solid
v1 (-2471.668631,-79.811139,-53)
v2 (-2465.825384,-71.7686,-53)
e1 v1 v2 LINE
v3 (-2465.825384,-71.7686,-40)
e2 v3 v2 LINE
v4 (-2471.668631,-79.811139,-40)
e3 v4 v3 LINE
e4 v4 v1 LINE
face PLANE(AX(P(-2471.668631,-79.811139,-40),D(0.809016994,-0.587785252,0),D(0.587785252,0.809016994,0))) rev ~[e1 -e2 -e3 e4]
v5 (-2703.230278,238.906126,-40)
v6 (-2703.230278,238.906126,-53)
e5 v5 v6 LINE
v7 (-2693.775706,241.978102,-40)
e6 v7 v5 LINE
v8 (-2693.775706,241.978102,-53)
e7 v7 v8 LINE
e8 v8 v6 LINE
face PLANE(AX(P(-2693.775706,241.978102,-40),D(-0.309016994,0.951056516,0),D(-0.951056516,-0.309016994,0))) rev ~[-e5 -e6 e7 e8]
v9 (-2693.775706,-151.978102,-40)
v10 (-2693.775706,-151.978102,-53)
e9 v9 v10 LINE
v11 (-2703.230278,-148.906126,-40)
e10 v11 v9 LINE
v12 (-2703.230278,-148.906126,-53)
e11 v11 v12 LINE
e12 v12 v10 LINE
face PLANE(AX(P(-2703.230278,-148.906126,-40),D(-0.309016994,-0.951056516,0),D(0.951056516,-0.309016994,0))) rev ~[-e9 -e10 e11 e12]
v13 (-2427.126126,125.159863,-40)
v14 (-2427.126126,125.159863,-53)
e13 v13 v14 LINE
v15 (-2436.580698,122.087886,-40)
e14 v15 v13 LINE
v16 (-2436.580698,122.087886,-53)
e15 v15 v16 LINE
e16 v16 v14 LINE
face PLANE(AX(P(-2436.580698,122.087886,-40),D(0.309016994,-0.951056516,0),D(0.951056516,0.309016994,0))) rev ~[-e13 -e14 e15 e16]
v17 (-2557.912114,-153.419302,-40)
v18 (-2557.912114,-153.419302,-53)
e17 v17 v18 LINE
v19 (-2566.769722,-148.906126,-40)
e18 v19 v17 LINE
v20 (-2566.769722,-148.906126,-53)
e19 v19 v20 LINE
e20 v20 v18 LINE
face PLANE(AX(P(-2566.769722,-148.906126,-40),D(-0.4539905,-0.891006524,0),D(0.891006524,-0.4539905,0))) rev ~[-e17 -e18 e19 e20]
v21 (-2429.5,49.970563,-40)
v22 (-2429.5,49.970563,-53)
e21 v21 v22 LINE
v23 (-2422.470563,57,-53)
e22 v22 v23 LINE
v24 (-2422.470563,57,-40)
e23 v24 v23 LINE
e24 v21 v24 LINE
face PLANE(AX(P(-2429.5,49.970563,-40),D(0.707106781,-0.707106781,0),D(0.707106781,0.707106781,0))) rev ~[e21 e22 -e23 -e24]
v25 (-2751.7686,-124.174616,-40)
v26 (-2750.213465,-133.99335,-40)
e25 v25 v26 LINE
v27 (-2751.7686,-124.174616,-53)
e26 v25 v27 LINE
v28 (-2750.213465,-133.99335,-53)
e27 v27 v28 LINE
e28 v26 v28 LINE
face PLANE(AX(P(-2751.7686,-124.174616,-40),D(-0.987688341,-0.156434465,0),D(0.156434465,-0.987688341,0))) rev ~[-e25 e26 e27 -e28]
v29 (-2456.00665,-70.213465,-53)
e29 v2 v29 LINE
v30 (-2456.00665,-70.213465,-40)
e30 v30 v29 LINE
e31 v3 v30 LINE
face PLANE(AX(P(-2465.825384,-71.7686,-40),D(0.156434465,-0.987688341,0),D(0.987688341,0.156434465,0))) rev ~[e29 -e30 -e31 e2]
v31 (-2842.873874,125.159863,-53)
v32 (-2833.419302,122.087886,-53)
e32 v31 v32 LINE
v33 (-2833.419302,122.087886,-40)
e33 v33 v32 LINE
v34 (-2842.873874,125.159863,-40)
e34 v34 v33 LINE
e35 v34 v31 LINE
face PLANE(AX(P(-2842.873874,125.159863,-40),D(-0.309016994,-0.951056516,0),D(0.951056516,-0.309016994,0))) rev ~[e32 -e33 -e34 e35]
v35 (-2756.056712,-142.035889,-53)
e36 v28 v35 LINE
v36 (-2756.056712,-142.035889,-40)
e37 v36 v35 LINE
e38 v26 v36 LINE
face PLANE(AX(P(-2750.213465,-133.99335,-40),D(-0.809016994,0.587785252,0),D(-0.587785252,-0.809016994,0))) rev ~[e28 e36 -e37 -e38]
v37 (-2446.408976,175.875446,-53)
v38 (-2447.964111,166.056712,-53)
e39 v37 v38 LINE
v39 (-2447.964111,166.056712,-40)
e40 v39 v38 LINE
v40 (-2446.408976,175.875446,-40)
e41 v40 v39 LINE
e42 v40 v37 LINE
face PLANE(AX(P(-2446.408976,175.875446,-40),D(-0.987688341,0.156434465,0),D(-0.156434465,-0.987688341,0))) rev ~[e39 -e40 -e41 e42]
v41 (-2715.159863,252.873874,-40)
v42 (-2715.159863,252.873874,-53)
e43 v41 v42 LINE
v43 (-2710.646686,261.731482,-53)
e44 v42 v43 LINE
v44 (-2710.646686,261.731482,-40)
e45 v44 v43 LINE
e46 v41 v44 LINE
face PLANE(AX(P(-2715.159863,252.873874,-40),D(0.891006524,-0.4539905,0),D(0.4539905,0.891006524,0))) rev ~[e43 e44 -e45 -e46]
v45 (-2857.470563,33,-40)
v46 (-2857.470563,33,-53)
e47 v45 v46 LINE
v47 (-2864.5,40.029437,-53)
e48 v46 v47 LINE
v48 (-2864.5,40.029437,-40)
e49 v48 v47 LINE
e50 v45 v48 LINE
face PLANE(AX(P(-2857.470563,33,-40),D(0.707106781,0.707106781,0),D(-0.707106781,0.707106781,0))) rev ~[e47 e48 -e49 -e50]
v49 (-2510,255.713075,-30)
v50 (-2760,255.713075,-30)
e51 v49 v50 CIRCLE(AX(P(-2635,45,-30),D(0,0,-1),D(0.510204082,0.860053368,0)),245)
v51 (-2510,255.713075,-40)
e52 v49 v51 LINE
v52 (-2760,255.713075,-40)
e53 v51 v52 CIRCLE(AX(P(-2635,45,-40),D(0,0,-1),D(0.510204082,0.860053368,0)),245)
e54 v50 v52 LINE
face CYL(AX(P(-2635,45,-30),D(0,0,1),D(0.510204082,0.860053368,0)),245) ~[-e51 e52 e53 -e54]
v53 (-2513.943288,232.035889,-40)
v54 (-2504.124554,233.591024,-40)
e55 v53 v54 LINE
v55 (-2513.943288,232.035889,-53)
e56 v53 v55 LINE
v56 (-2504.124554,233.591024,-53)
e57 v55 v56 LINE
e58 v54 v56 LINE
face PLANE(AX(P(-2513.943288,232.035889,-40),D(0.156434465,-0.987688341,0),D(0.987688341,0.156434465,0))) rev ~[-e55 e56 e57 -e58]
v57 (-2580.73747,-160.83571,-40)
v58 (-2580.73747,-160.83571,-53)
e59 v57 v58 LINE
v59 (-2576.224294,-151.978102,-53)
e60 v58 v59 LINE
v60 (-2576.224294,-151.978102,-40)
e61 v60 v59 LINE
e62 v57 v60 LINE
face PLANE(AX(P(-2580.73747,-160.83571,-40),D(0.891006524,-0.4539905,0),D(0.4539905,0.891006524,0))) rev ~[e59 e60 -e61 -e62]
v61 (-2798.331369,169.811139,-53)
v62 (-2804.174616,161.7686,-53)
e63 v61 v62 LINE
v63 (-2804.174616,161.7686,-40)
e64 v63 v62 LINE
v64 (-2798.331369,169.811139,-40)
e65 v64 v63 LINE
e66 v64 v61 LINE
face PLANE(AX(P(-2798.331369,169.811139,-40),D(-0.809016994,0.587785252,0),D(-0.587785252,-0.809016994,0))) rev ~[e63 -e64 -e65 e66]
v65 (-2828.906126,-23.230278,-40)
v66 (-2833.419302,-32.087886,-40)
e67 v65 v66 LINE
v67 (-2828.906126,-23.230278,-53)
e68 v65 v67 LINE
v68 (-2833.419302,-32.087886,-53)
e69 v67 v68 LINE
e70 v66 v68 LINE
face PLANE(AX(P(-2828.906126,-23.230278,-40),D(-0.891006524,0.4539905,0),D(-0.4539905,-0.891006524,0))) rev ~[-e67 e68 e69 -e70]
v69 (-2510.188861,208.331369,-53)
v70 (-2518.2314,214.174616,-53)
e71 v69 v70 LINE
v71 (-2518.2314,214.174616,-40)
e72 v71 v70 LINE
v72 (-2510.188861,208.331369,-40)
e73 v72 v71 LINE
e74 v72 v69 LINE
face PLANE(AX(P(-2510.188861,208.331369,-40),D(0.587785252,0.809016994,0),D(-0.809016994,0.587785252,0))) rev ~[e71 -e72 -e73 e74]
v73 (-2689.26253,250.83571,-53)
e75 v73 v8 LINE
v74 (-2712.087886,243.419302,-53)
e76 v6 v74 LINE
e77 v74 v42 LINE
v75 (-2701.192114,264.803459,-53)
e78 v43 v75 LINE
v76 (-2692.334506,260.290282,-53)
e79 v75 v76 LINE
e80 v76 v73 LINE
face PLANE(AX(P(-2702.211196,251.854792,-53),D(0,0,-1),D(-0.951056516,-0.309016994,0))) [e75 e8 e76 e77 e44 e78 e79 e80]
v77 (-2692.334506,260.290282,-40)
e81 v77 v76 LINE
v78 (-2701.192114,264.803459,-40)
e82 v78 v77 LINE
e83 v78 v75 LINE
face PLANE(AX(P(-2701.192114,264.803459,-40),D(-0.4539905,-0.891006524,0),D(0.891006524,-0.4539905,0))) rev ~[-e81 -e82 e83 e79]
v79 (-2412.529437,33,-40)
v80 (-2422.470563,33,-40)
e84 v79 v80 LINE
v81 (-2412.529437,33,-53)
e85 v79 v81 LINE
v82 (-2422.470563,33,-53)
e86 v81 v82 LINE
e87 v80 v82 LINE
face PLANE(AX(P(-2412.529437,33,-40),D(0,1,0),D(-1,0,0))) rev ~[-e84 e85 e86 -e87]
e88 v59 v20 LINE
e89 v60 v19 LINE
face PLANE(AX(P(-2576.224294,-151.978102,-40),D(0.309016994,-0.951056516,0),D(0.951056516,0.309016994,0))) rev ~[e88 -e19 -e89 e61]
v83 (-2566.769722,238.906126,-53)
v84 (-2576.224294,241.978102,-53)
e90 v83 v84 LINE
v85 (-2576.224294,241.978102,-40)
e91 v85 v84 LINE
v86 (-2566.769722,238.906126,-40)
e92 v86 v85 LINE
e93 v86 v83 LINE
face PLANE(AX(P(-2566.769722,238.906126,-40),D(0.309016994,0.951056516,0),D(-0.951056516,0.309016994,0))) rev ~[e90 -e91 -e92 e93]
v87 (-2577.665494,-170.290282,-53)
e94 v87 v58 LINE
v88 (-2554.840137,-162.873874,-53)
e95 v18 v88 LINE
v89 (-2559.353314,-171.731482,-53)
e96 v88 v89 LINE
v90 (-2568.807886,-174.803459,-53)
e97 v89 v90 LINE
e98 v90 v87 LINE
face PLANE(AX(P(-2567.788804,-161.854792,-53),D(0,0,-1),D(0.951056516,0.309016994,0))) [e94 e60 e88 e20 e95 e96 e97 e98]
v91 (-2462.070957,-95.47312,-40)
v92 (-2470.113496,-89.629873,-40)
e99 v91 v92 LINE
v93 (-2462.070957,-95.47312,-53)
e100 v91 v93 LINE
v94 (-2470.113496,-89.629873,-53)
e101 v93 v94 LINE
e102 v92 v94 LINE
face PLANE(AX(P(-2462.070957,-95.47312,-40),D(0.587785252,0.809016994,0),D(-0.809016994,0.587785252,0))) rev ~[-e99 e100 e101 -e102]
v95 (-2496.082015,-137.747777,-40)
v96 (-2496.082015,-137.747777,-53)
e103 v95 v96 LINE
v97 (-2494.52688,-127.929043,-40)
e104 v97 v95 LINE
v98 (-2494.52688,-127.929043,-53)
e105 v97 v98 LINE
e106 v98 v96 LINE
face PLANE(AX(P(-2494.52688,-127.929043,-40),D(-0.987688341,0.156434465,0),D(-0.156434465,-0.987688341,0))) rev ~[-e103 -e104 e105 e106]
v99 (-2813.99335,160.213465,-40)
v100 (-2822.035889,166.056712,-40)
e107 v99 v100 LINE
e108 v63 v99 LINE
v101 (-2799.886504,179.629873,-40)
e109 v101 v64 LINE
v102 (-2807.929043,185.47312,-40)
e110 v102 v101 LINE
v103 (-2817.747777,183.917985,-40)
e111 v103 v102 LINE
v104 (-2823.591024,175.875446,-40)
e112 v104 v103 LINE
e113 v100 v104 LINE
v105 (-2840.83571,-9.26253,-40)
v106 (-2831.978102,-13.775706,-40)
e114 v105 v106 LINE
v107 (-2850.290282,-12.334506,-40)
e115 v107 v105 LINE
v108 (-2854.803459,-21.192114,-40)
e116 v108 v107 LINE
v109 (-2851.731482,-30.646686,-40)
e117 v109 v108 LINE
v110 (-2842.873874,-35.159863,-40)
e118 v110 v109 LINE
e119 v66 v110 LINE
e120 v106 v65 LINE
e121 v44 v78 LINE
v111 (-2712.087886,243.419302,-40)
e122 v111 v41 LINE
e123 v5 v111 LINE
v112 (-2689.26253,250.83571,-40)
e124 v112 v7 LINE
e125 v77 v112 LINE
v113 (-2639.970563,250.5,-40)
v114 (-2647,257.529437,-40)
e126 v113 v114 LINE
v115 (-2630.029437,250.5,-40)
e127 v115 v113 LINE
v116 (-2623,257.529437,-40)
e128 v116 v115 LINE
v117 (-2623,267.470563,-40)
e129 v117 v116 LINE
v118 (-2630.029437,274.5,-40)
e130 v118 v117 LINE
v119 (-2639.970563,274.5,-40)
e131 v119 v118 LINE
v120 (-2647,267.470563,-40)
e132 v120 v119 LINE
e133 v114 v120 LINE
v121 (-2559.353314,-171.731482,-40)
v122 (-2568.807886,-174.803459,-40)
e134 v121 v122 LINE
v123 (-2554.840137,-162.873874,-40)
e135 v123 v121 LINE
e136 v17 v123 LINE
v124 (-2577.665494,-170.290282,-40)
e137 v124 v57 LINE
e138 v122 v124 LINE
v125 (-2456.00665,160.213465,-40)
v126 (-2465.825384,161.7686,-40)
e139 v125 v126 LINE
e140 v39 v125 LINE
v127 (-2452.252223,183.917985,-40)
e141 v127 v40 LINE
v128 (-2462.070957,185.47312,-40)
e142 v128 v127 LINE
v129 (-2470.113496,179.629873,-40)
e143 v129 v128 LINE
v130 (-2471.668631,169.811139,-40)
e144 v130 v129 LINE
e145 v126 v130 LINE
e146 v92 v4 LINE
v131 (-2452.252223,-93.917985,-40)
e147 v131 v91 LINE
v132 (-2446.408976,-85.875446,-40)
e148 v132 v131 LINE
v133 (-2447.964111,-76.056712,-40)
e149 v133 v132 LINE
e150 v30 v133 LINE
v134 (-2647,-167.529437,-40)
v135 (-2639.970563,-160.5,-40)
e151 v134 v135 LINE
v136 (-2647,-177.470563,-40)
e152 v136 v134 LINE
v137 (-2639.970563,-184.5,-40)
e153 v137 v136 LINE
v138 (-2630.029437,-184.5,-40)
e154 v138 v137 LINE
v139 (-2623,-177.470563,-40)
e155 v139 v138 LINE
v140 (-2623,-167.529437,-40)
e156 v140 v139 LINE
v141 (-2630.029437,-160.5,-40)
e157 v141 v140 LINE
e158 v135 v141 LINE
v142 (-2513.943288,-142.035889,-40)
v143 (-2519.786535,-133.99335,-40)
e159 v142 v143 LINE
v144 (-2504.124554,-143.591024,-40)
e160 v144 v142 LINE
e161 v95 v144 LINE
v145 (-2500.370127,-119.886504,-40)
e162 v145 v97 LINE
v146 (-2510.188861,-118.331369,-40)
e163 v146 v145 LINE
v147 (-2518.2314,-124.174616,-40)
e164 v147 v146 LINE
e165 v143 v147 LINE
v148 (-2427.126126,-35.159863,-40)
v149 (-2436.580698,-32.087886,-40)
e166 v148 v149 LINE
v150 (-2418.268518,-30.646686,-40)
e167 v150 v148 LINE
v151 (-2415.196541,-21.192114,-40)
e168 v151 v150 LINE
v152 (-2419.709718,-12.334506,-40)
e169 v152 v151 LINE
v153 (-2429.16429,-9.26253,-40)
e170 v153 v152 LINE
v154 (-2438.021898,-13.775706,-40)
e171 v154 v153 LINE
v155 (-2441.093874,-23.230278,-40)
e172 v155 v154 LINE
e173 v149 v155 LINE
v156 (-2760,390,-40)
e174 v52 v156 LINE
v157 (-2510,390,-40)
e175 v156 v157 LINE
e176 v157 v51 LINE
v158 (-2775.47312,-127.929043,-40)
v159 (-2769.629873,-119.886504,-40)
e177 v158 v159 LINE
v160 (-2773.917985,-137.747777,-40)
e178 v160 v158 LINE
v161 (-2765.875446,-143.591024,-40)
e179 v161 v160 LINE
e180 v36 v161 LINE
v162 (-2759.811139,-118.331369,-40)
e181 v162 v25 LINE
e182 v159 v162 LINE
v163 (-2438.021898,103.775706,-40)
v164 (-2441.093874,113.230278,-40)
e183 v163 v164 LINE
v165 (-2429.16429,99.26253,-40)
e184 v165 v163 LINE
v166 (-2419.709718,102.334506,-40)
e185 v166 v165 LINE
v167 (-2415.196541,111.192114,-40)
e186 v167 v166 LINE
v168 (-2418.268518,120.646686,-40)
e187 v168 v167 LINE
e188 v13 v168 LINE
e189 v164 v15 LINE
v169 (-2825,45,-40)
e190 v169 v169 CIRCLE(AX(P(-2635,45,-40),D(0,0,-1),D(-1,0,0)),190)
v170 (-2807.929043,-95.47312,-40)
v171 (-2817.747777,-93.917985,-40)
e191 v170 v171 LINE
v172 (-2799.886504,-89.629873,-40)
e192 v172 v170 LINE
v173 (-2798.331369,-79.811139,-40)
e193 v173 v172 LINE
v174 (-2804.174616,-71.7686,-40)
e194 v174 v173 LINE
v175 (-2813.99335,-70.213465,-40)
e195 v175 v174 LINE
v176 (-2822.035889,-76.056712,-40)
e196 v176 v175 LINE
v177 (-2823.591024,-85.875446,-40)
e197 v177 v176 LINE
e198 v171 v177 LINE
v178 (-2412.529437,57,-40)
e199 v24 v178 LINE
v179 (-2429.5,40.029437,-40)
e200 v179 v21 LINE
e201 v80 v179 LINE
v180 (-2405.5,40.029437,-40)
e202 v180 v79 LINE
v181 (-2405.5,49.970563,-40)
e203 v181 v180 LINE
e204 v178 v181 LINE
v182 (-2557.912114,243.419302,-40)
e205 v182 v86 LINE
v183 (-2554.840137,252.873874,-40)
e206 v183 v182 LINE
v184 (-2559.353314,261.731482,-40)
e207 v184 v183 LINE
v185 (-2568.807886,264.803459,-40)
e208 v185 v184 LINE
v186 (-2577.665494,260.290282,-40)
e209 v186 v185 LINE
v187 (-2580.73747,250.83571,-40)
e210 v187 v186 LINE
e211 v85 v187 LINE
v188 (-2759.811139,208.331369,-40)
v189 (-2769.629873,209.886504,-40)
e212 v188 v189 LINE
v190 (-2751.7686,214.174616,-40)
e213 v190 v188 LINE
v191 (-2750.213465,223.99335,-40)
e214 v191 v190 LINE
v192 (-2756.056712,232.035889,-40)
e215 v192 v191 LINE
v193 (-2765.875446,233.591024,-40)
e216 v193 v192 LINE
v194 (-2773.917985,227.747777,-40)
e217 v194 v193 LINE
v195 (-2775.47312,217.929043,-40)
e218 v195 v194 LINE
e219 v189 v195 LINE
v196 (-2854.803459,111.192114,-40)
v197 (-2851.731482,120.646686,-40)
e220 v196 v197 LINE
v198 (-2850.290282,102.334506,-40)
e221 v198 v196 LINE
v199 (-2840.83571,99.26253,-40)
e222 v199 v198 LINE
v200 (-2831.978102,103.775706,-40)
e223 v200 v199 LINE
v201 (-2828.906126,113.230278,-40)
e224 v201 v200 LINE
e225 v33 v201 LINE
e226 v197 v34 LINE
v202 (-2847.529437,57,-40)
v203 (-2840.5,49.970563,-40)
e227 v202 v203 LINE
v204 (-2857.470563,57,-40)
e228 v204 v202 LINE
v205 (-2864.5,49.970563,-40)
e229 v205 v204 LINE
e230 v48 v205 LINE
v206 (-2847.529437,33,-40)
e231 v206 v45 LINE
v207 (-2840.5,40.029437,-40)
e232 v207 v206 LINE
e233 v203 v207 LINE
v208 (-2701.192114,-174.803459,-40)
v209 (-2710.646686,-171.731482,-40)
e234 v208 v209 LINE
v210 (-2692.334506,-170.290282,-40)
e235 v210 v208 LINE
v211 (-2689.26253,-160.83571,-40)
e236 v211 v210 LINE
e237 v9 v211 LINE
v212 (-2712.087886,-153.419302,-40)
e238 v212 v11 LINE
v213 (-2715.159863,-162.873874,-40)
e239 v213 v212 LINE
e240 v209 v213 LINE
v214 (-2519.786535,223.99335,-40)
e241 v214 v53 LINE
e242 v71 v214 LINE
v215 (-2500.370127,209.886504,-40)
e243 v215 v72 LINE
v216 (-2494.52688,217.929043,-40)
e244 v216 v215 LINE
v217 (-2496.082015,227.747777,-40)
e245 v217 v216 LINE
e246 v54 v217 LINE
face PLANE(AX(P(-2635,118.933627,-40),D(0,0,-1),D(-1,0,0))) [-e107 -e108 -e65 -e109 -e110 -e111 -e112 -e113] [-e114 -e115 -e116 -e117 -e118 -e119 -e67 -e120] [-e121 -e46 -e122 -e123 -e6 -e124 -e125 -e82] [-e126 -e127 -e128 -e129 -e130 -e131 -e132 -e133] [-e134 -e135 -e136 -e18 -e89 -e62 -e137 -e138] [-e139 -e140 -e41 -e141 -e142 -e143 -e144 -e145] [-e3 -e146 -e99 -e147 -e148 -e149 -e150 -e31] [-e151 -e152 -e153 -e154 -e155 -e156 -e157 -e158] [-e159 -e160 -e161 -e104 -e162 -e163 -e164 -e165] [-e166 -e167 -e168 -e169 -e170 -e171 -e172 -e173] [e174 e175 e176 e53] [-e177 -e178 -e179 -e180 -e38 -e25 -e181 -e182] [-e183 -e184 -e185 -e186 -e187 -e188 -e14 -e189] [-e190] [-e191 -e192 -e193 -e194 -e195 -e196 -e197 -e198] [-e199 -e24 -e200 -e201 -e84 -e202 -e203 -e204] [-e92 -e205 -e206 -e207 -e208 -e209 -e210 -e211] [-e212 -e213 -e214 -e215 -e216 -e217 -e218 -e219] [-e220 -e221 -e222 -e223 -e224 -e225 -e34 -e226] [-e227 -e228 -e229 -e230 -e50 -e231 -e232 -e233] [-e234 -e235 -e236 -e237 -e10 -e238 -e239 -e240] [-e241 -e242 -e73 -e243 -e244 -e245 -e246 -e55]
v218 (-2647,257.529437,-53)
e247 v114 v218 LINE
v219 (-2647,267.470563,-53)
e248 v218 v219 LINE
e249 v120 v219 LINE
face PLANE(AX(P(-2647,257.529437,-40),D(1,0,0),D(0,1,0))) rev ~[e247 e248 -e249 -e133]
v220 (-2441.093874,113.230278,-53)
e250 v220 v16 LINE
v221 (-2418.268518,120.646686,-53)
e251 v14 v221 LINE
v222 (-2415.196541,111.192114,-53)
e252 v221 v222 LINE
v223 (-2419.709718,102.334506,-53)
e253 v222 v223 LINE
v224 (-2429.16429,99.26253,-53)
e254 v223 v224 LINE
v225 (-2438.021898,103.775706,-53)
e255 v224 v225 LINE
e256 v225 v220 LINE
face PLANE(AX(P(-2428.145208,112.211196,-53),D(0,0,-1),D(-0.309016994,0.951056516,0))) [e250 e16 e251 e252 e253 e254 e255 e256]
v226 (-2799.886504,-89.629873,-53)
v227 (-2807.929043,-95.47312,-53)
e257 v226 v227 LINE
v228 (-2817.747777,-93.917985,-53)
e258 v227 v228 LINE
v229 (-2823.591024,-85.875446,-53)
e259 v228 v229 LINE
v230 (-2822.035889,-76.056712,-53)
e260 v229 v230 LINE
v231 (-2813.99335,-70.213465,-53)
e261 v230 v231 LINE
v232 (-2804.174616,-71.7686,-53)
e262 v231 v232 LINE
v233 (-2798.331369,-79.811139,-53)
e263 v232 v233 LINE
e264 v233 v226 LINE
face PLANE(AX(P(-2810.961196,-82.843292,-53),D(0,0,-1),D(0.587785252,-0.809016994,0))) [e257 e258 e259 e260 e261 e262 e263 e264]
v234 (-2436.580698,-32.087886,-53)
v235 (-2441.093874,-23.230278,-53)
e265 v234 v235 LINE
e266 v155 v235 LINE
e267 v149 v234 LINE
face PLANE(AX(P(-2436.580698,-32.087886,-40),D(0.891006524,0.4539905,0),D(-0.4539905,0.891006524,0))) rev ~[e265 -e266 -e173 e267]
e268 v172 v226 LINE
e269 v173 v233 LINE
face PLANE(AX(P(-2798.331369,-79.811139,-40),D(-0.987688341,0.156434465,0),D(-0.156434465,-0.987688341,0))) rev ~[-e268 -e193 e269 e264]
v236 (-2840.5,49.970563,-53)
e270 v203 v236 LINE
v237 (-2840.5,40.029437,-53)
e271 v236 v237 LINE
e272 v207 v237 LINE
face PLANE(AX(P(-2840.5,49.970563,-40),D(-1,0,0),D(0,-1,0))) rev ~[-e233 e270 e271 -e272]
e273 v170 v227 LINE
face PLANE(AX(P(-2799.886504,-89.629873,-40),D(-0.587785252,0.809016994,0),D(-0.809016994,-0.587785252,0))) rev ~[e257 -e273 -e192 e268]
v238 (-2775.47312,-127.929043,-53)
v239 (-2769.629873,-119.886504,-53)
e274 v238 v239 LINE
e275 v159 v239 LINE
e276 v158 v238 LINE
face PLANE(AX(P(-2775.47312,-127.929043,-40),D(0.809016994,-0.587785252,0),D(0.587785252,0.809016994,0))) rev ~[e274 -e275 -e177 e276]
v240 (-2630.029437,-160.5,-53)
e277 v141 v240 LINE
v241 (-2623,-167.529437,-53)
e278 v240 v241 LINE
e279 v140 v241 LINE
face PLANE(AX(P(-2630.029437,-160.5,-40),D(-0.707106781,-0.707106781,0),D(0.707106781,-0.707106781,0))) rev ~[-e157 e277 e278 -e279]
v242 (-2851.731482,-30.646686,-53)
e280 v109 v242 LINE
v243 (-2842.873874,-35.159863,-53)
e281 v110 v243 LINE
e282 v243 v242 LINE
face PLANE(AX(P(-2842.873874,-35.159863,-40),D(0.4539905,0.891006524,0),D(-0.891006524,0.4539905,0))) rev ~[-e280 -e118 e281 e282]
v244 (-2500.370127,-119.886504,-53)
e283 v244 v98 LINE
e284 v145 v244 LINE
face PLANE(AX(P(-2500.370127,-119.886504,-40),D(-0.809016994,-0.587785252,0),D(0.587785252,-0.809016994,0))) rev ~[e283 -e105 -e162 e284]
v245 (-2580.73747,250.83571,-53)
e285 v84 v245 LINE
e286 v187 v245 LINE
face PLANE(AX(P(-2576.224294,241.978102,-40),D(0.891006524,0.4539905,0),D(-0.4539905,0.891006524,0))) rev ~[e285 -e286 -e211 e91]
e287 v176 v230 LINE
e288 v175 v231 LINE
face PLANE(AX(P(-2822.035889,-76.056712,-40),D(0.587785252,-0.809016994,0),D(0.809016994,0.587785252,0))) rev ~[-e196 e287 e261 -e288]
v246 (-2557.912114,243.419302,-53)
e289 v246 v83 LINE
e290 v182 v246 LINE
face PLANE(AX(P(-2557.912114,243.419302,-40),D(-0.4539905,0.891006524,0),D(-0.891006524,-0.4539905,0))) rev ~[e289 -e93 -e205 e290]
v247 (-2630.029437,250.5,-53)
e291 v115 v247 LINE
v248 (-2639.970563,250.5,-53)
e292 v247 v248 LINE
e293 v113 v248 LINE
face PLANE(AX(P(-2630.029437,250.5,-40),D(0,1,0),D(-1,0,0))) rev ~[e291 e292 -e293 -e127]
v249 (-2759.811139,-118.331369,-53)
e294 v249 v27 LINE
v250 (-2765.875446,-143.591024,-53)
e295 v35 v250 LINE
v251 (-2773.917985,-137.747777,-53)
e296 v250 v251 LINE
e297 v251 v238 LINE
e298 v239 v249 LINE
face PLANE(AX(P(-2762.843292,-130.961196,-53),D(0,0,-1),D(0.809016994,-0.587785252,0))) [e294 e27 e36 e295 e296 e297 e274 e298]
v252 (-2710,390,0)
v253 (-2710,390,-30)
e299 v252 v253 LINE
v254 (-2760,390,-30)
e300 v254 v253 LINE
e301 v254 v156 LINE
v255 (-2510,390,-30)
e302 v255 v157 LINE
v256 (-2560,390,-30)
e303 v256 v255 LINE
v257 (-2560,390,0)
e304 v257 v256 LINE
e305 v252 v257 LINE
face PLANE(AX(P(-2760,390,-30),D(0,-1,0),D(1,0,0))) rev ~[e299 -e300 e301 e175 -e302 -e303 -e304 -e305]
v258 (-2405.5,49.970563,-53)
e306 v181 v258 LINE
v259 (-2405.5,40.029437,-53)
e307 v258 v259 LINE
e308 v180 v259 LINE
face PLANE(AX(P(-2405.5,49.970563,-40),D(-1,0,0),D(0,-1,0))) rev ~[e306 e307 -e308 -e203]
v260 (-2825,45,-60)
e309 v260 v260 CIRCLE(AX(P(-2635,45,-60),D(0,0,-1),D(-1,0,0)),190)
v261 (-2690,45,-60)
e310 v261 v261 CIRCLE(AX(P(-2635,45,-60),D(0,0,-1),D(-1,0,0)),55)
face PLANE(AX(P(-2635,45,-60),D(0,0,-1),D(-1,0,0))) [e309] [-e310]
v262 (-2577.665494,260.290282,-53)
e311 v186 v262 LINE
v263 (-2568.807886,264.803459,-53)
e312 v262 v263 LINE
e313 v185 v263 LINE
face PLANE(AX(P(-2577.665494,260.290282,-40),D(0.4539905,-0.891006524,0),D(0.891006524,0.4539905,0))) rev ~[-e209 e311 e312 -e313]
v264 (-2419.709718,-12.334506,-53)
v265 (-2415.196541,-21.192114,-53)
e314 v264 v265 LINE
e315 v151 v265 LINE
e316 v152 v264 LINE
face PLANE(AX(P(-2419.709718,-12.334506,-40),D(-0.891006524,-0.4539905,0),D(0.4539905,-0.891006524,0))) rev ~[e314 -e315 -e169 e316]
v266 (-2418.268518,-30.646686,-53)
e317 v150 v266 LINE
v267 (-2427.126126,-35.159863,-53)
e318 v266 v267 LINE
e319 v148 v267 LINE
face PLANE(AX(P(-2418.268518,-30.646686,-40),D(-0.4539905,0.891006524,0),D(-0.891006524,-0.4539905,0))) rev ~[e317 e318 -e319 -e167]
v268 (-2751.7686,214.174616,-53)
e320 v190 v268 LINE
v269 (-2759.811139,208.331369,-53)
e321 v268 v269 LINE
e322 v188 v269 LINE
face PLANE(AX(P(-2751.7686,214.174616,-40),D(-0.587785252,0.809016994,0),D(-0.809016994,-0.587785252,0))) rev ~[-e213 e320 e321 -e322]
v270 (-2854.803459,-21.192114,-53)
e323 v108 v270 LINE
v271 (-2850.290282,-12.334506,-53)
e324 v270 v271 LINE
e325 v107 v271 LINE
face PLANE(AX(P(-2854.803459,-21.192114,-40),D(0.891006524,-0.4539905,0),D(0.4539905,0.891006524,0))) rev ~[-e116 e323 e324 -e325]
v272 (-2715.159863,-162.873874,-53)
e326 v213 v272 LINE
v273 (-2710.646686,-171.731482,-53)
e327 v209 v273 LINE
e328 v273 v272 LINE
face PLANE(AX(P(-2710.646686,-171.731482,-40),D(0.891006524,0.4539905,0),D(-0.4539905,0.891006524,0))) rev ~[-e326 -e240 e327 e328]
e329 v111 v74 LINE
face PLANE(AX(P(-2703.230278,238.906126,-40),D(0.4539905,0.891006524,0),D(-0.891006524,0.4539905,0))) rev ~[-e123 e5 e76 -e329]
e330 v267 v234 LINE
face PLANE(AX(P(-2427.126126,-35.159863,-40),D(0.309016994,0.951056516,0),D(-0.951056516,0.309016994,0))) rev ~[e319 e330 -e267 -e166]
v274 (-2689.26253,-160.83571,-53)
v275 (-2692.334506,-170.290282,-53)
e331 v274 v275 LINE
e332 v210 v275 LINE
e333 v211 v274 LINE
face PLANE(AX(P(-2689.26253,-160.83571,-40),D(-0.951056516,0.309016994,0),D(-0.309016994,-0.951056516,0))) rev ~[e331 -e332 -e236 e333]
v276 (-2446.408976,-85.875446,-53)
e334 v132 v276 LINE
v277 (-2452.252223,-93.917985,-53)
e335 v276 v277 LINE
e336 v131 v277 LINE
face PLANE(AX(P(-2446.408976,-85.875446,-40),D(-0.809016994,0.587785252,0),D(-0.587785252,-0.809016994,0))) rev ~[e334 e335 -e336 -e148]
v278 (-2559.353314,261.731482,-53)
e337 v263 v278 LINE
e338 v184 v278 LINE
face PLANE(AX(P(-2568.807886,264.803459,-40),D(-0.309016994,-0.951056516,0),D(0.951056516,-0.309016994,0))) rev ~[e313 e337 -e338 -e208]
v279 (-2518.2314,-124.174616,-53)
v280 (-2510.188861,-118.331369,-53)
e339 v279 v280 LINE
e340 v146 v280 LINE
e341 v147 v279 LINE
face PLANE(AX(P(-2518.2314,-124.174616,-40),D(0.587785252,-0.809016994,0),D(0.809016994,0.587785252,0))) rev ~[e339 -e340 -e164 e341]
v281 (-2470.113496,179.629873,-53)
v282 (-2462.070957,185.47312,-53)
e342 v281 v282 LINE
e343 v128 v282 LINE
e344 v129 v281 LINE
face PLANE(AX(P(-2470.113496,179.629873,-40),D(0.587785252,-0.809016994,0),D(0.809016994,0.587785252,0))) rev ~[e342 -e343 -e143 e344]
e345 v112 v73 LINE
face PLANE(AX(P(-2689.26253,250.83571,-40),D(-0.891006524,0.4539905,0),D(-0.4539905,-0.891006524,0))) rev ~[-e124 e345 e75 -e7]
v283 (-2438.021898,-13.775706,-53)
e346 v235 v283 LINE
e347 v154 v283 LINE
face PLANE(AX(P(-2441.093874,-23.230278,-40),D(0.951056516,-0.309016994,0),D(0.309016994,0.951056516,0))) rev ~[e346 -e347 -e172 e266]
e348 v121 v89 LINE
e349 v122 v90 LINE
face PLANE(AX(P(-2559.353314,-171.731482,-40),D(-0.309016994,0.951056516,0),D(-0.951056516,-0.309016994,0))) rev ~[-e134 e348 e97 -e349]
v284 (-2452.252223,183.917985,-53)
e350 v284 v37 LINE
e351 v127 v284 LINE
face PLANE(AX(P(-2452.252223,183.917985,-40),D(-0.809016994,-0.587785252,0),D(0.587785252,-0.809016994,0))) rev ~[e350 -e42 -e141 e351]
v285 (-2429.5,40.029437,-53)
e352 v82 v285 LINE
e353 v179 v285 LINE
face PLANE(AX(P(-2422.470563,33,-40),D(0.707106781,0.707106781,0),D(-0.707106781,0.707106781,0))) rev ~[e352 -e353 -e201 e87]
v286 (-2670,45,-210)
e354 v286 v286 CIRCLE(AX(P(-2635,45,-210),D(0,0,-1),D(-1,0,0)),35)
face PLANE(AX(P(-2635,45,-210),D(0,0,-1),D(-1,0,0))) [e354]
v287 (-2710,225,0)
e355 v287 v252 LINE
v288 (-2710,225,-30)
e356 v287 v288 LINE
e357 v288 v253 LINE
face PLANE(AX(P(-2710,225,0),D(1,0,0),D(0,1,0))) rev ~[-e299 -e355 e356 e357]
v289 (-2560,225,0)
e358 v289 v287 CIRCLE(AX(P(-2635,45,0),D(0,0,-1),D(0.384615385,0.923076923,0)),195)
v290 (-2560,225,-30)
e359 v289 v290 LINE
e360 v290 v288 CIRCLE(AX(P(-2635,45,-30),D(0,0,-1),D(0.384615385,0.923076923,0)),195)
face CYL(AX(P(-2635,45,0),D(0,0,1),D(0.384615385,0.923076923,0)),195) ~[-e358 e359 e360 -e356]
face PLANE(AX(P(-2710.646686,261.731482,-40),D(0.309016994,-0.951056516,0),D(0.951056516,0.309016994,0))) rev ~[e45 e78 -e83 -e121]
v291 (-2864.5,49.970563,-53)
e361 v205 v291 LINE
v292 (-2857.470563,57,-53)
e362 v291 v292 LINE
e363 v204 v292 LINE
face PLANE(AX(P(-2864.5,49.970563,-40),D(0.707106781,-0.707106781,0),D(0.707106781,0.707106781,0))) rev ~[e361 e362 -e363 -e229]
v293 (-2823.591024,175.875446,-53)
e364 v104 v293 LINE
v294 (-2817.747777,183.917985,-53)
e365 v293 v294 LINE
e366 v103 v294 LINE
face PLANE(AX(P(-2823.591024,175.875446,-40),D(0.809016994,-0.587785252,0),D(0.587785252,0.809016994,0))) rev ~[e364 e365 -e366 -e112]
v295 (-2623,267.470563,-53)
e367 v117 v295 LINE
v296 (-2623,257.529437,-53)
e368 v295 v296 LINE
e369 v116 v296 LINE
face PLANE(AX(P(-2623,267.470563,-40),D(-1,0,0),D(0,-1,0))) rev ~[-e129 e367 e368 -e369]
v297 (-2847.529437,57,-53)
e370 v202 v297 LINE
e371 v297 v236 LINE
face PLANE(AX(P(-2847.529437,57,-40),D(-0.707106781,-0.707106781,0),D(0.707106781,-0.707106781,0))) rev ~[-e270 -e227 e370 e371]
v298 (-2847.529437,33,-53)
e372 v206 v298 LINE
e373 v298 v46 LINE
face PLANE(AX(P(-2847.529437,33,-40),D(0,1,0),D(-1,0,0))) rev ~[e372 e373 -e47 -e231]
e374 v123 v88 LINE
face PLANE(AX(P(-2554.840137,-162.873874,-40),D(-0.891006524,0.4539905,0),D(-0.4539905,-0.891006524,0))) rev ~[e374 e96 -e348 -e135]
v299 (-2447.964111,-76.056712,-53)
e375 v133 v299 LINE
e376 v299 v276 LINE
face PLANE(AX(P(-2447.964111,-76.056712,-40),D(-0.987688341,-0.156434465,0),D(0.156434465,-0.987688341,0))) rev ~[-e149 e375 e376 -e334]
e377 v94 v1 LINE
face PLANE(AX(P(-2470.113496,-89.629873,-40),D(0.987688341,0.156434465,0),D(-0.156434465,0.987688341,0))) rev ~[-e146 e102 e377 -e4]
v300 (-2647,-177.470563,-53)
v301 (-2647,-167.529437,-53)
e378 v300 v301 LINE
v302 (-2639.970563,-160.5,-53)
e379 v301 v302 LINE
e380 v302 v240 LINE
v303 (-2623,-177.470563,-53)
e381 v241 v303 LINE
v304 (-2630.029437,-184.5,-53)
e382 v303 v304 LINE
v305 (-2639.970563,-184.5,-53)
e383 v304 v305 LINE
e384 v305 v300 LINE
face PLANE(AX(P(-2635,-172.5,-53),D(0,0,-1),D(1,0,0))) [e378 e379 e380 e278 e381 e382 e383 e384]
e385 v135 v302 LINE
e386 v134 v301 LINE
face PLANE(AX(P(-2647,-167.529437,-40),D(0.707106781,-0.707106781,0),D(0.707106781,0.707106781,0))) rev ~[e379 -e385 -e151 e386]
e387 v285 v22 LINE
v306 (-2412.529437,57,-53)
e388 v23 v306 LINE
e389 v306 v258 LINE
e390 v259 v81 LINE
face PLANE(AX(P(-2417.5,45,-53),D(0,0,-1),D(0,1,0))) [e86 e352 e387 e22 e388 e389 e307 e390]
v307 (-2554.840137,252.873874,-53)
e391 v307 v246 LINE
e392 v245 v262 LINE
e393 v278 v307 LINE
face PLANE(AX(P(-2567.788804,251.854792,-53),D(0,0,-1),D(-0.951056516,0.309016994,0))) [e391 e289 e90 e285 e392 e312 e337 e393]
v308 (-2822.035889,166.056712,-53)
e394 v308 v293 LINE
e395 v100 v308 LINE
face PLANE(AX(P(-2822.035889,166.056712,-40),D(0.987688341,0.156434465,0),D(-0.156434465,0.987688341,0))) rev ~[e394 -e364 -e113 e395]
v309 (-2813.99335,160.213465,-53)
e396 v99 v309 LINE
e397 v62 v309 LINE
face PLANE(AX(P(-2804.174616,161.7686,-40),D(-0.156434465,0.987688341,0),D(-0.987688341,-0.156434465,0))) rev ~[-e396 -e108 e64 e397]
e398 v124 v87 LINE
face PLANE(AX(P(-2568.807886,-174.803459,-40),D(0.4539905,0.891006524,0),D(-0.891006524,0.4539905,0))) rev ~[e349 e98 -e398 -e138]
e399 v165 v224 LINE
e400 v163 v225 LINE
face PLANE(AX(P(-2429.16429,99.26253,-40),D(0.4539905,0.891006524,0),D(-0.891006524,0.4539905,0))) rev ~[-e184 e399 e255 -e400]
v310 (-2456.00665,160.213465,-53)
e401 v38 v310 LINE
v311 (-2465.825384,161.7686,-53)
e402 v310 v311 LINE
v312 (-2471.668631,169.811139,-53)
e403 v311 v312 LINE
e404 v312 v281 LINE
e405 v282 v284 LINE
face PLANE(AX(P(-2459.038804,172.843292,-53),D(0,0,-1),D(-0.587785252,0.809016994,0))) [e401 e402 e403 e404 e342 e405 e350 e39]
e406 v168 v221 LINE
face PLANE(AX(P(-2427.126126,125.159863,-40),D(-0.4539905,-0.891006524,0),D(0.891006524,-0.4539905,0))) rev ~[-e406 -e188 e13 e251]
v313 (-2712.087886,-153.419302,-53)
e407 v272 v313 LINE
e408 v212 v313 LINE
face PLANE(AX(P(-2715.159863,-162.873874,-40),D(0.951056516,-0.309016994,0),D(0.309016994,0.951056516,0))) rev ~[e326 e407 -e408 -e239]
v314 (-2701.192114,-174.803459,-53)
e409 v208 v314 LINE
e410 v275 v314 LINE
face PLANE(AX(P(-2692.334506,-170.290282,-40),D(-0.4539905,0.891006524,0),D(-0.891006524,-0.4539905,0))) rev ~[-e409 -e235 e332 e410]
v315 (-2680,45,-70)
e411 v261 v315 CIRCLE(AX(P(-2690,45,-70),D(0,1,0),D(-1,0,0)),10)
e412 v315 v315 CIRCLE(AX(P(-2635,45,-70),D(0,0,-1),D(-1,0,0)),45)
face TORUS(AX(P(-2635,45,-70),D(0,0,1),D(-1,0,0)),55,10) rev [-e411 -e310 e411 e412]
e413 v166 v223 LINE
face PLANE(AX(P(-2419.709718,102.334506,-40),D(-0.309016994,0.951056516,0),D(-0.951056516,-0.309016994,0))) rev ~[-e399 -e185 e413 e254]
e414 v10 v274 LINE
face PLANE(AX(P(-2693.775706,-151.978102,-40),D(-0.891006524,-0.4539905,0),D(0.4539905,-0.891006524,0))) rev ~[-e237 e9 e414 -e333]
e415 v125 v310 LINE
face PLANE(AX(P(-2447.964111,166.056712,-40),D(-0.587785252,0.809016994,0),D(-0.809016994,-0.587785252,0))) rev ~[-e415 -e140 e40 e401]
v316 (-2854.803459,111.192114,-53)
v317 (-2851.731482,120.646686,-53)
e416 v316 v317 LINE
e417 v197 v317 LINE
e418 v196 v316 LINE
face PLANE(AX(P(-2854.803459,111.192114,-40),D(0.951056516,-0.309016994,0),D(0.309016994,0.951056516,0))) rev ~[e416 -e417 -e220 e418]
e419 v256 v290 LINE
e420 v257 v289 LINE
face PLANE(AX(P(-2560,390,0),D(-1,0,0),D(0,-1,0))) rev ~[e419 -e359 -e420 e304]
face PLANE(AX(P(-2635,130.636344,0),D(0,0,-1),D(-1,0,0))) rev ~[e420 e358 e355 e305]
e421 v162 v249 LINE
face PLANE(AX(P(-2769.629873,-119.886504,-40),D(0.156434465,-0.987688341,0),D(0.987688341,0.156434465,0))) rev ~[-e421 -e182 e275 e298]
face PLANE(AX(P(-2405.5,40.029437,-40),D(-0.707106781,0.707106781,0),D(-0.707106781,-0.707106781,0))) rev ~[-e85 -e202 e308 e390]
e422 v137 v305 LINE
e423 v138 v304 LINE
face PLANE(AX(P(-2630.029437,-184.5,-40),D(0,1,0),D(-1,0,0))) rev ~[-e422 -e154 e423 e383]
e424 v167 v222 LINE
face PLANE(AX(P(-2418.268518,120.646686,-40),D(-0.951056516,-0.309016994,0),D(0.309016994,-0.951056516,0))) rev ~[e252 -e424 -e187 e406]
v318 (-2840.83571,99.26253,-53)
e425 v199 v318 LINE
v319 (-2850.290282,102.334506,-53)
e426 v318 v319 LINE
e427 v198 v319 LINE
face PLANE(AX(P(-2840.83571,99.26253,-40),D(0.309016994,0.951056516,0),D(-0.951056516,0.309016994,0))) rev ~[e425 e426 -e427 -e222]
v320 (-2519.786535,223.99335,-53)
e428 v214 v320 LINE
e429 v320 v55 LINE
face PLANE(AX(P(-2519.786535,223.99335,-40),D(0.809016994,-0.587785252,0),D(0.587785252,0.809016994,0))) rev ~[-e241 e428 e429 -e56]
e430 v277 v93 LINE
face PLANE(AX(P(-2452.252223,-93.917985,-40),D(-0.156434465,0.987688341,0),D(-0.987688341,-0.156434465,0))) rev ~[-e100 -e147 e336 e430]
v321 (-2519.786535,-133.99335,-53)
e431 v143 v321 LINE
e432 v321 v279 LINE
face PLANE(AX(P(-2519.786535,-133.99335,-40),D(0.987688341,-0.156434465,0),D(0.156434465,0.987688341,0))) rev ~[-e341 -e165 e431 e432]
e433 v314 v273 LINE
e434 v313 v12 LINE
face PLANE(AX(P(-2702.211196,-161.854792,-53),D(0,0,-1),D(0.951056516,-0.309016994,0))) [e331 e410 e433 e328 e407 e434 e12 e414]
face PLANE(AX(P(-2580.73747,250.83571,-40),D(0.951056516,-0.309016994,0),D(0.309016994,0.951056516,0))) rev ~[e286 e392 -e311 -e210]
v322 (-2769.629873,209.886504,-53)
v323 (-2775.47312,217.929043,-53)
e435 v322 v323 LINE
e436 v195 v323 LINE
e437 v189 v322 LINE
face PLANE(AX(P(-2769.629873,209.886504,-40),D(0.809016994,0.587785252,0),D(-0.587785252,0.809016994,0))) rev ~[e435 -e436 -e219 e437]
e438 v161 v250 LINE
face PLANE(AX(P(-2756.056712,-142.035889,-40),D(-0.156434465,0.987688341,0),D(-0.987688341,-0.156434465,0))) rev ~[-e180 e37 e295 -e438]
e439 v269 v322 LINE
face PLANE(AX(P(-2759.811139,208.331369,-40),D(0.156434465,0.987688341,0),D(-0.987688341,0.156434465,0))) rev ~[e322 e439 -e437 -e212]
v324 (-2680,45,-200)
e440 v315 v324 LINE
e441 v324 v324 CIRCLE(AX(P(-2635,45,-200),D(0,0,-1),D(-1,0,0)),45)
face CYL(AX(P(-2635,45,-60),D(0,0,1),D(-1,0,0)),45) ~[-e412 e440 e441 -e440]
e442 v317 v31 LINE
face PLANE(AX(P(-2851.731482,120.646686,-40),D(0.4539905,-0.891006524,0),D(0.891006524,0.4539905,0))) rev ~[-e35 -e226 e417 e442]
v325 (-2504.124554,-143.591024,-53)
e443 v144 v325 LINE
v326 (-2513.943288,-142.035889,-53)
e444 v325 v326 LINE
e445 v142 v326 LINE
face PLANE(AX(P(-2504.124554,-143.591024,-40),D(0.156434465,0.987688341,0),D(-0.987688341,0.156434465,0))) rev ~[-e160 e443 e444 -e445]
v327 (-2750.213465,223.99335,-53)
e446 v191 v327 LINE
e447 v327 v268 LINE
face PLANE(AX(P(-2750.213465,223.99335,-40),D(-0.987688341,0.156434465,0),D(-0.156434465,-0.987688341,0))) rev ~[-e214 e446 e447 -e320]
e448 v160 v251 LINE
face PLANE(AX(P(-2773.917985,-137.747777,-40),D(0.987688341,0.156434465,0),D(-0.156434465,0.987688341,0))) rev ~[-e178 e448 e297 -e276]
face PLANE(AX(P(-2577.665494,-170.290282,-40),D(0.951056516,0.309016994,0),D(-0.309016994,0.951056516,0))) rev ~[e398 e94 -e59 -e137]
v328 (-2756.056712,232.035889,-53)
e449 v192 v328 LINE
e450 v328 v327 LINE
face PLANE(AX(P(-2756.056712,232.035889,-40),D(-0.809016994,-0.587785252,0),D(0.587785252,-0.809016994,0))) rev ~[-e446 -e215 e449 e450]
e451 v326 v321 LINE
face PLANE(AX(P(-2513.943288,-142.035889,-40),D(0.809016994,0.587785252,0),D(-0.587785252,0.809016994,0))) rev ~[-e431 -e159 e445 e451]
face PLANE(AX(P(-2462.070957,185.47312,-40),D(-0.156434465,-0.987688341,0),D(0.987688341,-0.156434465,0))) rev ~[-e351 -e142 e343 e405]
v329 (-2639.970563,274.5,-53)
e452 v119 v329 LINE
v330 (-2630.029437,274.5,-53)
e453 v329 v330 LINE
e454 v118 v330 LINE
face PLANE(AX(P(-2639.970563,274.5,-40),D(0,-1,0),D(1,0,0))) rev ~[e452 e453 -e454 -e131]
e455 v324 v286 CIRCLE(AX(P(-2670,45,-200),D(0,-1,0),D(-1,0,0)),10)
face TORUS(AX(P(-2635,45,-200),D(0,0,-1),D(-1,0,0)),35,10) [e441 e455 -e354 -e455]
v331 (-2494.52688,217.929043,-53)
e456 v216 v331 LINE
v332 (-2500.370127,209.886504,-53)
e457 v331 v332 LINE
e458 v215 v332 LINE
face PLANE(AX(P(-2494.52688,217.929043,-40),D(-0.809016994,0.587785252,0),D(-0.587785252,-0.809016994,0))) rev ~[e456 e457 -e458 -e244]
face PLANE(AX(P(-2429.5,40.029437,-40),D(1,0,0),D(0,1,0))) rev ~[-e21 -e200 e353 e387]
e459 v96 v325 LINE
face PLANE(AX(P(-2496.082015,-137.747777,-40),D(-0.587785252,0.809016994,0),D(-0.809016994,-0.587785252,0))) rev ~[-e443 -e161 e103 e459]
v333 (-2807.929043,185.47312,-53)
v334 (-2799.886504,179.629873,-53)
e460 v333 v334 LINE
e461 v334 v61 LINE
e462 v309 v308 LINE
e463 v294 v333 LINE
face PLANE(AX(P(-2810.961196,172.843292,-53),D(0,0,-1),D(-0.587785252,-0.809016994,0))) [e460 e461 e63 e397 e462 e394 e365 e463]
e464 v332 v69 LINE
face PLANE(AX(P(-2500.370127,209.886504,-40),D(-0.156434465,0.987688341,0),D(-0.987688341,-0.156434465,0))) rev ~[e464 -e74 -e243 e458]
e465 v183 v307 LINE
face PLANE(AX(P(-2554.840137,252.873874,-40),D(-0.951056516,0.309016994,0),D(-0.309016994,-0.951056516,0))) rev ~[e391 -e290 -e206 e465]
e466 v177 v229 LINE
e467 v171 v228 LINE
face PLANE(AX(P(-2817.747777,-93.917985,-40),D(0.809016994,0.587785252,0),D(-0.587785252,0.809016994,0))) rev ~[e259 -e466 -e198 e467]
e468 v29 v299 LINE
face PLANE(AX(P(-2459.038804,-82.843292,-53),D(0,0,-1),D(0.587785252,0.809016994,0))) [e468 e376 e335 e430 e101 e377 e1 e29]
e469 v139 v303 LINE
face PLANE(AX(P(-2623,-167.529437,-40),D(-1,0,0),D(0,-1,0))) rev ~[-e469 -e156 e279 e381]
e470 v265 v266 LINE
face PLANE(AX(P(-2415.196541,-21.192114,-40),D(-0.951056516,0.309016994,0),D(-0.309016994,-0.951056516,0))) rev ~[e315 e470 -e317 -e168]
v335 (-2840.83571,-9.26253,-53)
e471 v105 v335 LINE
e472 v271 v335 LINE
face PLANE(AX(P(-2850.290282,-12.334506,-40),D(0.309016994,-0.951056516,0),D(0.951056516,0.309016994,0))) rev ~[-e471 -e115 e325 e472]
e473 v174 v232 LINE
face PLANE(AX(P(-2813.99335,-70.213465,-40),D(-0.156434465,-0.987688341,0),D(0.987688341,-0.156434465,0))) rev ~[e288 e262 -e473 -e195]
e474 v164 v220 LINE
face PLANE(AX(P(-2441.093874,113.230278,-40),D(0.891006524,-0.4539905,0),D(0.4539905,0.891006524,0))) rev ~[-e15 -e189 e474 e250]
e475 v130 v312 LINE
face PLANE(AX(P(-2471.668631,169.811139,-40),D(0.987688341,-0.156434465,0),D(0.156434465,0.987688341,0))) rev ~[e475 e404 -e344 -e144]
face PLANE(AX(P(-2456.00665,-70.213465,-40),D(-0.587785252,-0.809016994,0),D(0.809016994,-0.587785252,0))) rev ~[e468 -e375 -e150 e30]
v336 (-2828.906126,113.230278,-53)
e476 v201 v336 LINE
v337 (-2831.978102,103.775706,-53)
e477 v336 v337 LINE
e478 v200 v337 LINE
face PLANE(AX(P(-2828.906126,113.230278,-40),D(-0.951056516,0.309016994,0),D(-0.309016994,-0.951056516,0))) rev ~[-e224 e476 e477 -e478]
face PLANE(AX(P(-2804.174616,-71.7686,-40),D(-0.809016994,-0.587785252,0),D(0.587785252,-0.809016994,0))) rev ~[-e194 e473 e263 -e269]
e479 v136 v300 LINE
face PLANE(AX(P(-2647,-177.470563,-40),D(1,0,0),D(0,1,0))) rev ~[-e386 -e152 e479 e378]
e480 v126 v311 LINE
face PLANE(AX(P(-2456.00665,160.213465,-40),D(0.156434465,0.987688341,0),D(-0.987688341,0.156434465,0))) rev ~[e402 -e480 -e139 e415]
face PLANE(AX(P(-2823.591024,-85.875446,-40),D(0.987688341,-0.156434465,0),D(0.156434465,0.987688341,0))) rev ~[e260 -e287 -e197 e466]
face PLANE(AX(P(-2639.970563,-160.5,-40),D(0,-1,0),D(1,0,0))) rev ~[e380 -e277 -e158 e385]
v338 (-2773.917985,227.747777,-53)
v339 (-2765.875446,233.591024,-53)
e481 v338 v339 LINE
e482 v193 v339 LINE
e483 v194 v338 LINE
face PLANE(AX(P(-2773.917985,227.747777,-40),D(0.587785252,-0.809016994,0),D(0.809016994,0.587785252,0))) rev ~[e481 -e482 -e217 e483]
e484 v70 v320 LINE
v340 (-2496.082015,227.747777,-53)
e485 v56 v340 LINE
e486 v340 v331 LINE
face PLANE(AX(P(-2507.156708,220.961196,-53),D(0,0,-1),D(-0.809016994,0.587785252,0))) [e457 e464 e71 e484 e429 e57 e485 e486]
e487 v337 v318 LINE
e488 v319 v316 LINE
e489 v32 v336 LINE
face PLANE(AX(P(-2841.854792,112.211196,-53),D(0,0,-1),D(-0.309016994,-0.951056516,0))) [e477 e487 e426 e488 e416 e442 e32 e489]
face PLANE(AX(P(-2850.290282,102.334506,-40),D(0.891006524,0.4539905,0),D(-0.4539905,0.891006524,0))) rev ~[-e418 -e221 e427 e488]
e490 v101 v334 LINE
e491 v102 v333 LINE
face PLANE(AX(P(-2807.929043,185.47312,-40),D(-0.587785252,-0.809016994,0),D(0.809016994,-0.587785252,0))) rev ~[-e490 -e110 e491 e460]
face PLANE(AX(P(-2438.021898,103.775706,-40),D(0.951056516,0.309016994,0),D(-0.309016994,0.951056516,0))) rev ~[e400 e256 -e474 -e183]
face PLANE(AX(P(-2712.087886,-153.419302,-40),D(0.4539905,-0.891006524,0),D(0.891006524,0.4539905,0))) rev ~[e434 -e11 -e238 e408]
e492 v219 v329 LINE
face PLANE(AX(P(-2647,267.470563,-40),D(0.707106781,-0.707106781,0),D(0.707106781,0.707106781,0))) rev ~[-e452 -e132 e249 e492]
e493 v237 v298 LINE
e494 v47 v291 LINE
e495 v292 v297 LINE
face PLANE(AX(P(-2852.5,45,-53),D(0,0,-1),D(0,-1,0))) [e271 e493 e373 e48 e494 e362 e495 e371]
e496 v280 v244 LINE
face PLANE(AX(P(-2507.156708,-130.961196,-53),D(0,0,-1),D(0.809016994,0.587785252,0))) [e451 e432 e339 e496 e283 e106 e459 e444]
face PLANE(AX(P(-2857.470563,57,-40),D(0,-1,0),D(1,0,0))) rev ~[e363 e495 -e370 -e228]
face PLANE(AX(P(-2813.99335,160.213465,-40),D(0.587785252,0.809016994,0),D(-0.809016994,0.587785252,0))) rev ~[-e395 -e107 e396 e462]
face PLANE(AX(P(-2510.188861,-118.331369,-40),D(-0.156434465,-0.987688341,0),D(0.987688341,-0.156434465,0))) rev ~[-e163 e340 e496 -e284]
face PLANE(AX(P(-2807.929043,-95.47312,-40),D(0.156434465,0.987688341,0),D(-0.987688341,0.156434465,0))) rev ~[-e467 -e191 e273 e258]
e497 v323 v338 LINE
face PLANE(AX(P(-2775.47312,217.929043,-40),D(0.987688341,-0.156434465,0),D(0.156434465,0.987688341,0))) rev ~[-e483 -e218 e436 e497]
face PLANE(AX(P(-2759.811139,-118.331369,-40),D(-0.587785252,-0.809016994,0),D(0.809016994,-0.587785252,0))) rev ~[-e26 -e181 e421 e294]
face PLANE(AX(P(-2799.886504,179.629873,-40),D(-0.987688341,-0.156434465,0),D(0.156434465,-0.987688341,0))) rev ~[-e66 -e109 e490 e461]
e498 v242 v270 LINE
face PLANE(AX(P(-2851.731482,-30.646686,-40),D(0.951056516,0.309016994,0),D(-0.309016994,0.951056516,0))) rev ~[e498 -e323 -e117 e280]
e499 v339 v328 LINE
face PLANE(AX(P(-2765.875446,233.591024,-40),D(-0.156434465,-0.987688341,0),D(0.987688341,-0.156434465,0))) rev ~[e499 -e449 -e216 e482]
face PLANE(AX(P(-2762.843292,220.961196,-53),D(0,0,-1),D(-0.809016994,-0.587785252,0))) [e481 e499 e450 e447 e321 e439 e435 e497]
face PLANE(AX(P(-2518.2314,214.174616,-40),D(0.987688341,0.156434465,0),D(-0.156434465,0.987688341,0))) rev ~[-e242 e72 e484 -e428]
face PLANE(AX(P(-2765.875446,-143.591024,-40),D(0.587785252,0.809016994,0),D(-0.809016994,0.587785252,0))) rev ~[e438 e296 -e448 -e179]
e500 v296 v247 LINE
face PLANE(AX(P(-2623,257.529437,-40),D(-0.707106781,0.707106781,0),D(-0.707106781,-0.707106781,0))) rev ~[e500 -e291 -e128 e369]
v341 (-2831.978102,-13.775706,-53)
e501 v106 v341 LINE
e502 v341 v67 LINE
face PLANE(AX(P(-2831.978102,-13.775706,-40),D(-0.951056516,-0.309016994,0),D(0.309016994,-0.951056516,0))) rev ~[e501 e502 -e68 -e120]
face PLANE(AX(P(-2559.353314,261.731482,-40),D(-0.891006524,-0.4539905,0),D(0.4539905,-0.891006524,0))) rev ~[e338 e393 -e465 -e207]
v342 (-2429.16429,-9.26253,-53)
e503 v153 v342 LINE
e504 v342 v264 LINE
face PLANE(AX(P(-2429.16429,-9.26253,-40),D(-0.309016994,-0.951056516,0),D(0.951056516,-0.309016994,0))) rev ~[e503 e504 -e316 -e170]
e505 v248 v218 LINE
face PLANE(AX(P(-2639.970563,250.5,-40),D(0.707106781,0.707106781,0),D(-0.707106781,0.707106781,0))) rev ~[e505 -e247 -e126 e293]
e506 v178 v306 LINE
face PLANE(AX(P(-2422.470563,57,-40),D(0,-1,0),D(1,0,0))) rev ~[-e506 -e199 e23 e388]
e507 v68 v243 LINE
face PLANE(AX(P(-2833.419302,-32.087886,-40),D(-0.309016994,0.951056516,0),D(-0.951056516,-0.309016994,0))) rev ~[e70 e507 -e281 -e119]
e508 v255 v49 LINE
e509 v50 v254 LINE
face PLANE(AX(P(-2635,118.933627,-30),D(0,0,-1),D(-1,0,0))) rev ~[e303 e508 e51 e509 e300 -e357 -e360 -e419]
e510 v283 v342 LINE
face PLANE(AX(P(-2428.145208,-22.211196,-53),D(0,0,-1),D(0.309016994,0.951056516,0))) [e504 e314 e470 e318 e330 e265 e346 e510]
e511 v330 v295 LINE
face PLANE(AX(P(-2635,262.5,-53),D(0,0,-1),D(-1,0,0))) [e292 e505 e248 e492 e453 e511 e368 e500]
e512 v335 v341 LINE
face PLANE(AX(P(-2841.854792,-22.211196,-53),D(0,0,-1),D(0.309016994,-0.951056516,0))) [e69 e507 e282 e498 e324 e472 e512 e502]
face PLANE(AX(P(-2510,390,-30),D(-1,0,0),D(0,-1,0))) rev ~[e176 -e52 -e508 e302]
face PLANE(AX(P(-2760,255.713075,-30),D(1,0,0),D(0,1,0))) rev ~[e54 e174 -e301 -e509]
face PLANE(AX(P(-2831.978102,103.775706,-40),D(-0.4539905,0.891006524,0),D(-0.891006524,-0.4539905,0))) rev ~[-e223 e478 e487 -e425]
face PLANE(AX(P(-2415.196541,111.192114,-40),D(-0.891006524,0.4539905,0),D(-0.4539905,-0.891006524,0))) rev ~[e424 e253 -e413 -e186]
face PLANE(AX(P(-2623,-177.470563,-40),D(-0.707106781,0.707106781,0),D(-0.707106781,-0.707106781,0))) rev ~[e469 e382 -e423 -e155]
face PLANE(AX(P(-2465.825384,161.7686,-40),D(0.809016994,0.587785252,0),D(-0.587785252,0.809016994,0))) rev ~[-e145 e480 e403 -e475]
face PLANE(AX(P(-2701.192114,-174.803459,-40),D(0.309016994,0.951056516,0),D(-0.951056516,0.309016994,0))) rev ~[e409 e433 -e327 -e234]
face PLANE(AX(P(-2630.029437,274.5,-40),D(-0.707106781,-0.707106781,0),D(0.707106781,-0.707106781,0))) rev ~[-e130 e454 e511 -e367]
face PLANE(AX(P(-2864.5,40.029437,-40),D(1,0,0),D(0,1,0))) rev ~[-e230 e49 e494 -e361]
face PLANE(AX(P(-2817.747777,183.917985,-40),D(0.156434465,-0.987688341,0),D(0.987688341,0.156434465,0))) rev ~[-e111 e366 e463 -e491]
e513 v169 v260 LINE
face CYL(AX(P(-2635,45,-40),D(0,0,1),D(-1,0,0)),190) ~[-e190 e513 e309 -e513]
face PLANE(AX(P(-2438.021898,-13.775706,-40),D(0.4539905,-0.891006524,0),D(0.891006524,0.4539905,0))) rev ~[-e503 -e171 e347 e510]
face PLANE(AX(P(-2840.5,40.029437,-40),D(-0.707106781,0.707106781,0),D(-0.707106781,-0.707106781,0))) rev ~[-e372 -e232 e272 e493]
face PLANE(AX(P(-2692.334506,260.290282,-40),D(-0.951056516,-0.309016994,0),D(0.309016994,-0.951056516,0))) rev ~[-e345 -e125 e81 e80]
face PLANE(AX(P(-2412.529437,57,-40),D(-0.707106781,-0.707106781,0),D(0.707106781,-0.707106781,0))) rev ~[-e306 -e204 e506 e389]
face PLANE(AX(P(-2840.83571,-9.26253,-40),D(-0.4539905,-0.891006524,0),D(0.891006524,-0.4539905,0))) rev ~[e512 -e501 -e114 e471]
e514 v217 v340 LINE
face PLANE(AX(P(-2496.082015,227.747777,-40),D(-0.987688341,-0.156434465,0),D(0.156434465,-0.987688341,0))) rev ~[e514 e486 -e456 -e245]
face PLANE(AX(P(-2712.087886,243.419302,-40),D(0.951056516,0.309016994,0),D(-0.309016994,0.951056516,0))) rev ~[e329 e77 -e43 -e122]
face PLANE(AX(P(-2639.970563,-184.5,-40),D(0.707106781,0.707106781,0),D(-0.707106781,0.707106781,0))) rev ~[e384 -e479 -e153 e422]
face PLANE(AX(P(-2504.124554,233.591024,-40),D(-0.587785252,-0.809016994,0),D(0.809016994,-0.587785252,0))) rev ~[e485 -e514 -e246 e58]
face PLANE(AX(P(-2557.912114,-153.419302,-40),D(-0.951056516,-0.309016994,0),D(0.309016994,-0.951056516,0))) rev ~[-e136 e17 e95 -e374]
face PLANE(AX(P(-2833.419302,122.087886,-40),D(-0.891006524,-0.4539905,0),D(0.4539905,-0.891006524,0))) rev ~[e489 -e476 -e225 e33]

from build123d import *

# Parameters (mm, degrees)
Y_KSEKLIK_EKSTR_ZYON1_DEPTH = 30
Y_KSEKLIK_EKSTR_ZYON2_DEPTH = 10
IZIM5_R                     = 190
Y_KSEKLIK_EKSTR_ZYON3_DEPTH = 20
Y_KSEKLIK_EKSTR_ZYON4_DEPTH = 13
DAIRESEL_KAPLAMA1_COUNT     = 20
IZIM7_R                     = 45
Y_KSEKLIK_EKSTR_ZYON5_DEPTH = 150
RADYUS1_R                   = 10


with BuildPart() as part:
    # Çizim1 → Yükseklik-Ekstrüzyon1 (new body)
    with BuildSketch(Plane.XY):
        with BuildLine():
            Line((-2560, 390), (-2560, 225))
            ThreePointArc((-2560, 225), (-2635, -150), (-2710, 225))
            Line((-2710, 225), (-2710, 390))
            Line((-2710, 390), (-2560, 390))
        make_face()
    extrude(amount=-Y_KSEKLIK_EKSTR_ZYON1_DEPTH)

    # Çizim4 → Yükseklik-Ekstrüzyon2 (add)
    with BuildSketch(Plane(origin=(0, 0, -30), x_dir=(-1, 0, 0), z_dir=(0, 0, -1))):
        with BuildLine():
            Line((2510, 390), (2510, 255.713075057))
            ThreePointArc((2510, 255.713075057), (2635, -200), (2760, 255.713075057))
            Line((2760, 255.713075057), (2760, 390))
            Line((2760, 390), (2510, 390))
        make_face()
    extrude(amount=Y_KSEKLIK_EKSTR_ZYON2_DEPTH)

    # Çizim5 → Yükseklik-Ekstrüzyon3 (add)
    with BuildSketch(Plane(origin=(0, 0, -40), x_dir=(-1, 0, 0), z_dir=(0, 0, -1))):
        with Locations((2635, 45)):
            Circle(IZIM5_R)
    extrude(amount=Y_KSEKLIK_EKSTR_ZYON3_DEPTH)

    # Çizim6 → Yükseklik-Ekstrüzyon4 (add)
    with BuildSketch(Plane(origin=(0, 0, -40), x_dir=(-1, 0, 0), z_dir=(0, 0, -1))):
        Polygon((2639.970562748, 250.5), (2647, 257.529437252), (2647, 267.470562748), (2639.970562748, 274.5), (2630.029437252, 274.5), (2623, 267.470562748), (2623, 257.529437252), (2630.029437252, 250.5), align=None)
    y_kseklik_ekstr_zyon4 = extrude(amount=Y_KSEKLIK_EKSTR_ZYON4_DEPTH)

    # Dairesel Kaplama1: Yükseklik-Ekstrüzyon4 ×20 about axis
    dairesel_kaplama1_axis = Axis((-2635, 45, 0), (0, 0, 1))
    for i in range(1, DAIRESEL_KAPLAMA1_COUNT):
        add(y_kseklik_ekstr_zyon4.rotate(dairesel_kaplama1_axis, i * 360 / DAIRESEL_KAPLAMA1_COUNT))

    # Çizim7 → Yükseklik-Ekstrüzyon5 (add)
    with BuildSketch(Plane(origin=(0, 0, -60), x_dir=(-1, 0, 0), z_dir=(0, 0, -1))):
        with Locations((2635, 45)):
            Circle(IZIM7_R)
    extrude(amount=Y_KSEKLIK_EKSTR_ZYON5_DEPTH)

    # Radyus1
    radyus1_edges = [part.edges().sort_by_distance(p)[0] for p in [
        (-2590, 45, -60),
        (-2590, 45, -210),
    ]]
    fillet(radyus1_edges, radius=RADYUS1_R)


solid = part.part
